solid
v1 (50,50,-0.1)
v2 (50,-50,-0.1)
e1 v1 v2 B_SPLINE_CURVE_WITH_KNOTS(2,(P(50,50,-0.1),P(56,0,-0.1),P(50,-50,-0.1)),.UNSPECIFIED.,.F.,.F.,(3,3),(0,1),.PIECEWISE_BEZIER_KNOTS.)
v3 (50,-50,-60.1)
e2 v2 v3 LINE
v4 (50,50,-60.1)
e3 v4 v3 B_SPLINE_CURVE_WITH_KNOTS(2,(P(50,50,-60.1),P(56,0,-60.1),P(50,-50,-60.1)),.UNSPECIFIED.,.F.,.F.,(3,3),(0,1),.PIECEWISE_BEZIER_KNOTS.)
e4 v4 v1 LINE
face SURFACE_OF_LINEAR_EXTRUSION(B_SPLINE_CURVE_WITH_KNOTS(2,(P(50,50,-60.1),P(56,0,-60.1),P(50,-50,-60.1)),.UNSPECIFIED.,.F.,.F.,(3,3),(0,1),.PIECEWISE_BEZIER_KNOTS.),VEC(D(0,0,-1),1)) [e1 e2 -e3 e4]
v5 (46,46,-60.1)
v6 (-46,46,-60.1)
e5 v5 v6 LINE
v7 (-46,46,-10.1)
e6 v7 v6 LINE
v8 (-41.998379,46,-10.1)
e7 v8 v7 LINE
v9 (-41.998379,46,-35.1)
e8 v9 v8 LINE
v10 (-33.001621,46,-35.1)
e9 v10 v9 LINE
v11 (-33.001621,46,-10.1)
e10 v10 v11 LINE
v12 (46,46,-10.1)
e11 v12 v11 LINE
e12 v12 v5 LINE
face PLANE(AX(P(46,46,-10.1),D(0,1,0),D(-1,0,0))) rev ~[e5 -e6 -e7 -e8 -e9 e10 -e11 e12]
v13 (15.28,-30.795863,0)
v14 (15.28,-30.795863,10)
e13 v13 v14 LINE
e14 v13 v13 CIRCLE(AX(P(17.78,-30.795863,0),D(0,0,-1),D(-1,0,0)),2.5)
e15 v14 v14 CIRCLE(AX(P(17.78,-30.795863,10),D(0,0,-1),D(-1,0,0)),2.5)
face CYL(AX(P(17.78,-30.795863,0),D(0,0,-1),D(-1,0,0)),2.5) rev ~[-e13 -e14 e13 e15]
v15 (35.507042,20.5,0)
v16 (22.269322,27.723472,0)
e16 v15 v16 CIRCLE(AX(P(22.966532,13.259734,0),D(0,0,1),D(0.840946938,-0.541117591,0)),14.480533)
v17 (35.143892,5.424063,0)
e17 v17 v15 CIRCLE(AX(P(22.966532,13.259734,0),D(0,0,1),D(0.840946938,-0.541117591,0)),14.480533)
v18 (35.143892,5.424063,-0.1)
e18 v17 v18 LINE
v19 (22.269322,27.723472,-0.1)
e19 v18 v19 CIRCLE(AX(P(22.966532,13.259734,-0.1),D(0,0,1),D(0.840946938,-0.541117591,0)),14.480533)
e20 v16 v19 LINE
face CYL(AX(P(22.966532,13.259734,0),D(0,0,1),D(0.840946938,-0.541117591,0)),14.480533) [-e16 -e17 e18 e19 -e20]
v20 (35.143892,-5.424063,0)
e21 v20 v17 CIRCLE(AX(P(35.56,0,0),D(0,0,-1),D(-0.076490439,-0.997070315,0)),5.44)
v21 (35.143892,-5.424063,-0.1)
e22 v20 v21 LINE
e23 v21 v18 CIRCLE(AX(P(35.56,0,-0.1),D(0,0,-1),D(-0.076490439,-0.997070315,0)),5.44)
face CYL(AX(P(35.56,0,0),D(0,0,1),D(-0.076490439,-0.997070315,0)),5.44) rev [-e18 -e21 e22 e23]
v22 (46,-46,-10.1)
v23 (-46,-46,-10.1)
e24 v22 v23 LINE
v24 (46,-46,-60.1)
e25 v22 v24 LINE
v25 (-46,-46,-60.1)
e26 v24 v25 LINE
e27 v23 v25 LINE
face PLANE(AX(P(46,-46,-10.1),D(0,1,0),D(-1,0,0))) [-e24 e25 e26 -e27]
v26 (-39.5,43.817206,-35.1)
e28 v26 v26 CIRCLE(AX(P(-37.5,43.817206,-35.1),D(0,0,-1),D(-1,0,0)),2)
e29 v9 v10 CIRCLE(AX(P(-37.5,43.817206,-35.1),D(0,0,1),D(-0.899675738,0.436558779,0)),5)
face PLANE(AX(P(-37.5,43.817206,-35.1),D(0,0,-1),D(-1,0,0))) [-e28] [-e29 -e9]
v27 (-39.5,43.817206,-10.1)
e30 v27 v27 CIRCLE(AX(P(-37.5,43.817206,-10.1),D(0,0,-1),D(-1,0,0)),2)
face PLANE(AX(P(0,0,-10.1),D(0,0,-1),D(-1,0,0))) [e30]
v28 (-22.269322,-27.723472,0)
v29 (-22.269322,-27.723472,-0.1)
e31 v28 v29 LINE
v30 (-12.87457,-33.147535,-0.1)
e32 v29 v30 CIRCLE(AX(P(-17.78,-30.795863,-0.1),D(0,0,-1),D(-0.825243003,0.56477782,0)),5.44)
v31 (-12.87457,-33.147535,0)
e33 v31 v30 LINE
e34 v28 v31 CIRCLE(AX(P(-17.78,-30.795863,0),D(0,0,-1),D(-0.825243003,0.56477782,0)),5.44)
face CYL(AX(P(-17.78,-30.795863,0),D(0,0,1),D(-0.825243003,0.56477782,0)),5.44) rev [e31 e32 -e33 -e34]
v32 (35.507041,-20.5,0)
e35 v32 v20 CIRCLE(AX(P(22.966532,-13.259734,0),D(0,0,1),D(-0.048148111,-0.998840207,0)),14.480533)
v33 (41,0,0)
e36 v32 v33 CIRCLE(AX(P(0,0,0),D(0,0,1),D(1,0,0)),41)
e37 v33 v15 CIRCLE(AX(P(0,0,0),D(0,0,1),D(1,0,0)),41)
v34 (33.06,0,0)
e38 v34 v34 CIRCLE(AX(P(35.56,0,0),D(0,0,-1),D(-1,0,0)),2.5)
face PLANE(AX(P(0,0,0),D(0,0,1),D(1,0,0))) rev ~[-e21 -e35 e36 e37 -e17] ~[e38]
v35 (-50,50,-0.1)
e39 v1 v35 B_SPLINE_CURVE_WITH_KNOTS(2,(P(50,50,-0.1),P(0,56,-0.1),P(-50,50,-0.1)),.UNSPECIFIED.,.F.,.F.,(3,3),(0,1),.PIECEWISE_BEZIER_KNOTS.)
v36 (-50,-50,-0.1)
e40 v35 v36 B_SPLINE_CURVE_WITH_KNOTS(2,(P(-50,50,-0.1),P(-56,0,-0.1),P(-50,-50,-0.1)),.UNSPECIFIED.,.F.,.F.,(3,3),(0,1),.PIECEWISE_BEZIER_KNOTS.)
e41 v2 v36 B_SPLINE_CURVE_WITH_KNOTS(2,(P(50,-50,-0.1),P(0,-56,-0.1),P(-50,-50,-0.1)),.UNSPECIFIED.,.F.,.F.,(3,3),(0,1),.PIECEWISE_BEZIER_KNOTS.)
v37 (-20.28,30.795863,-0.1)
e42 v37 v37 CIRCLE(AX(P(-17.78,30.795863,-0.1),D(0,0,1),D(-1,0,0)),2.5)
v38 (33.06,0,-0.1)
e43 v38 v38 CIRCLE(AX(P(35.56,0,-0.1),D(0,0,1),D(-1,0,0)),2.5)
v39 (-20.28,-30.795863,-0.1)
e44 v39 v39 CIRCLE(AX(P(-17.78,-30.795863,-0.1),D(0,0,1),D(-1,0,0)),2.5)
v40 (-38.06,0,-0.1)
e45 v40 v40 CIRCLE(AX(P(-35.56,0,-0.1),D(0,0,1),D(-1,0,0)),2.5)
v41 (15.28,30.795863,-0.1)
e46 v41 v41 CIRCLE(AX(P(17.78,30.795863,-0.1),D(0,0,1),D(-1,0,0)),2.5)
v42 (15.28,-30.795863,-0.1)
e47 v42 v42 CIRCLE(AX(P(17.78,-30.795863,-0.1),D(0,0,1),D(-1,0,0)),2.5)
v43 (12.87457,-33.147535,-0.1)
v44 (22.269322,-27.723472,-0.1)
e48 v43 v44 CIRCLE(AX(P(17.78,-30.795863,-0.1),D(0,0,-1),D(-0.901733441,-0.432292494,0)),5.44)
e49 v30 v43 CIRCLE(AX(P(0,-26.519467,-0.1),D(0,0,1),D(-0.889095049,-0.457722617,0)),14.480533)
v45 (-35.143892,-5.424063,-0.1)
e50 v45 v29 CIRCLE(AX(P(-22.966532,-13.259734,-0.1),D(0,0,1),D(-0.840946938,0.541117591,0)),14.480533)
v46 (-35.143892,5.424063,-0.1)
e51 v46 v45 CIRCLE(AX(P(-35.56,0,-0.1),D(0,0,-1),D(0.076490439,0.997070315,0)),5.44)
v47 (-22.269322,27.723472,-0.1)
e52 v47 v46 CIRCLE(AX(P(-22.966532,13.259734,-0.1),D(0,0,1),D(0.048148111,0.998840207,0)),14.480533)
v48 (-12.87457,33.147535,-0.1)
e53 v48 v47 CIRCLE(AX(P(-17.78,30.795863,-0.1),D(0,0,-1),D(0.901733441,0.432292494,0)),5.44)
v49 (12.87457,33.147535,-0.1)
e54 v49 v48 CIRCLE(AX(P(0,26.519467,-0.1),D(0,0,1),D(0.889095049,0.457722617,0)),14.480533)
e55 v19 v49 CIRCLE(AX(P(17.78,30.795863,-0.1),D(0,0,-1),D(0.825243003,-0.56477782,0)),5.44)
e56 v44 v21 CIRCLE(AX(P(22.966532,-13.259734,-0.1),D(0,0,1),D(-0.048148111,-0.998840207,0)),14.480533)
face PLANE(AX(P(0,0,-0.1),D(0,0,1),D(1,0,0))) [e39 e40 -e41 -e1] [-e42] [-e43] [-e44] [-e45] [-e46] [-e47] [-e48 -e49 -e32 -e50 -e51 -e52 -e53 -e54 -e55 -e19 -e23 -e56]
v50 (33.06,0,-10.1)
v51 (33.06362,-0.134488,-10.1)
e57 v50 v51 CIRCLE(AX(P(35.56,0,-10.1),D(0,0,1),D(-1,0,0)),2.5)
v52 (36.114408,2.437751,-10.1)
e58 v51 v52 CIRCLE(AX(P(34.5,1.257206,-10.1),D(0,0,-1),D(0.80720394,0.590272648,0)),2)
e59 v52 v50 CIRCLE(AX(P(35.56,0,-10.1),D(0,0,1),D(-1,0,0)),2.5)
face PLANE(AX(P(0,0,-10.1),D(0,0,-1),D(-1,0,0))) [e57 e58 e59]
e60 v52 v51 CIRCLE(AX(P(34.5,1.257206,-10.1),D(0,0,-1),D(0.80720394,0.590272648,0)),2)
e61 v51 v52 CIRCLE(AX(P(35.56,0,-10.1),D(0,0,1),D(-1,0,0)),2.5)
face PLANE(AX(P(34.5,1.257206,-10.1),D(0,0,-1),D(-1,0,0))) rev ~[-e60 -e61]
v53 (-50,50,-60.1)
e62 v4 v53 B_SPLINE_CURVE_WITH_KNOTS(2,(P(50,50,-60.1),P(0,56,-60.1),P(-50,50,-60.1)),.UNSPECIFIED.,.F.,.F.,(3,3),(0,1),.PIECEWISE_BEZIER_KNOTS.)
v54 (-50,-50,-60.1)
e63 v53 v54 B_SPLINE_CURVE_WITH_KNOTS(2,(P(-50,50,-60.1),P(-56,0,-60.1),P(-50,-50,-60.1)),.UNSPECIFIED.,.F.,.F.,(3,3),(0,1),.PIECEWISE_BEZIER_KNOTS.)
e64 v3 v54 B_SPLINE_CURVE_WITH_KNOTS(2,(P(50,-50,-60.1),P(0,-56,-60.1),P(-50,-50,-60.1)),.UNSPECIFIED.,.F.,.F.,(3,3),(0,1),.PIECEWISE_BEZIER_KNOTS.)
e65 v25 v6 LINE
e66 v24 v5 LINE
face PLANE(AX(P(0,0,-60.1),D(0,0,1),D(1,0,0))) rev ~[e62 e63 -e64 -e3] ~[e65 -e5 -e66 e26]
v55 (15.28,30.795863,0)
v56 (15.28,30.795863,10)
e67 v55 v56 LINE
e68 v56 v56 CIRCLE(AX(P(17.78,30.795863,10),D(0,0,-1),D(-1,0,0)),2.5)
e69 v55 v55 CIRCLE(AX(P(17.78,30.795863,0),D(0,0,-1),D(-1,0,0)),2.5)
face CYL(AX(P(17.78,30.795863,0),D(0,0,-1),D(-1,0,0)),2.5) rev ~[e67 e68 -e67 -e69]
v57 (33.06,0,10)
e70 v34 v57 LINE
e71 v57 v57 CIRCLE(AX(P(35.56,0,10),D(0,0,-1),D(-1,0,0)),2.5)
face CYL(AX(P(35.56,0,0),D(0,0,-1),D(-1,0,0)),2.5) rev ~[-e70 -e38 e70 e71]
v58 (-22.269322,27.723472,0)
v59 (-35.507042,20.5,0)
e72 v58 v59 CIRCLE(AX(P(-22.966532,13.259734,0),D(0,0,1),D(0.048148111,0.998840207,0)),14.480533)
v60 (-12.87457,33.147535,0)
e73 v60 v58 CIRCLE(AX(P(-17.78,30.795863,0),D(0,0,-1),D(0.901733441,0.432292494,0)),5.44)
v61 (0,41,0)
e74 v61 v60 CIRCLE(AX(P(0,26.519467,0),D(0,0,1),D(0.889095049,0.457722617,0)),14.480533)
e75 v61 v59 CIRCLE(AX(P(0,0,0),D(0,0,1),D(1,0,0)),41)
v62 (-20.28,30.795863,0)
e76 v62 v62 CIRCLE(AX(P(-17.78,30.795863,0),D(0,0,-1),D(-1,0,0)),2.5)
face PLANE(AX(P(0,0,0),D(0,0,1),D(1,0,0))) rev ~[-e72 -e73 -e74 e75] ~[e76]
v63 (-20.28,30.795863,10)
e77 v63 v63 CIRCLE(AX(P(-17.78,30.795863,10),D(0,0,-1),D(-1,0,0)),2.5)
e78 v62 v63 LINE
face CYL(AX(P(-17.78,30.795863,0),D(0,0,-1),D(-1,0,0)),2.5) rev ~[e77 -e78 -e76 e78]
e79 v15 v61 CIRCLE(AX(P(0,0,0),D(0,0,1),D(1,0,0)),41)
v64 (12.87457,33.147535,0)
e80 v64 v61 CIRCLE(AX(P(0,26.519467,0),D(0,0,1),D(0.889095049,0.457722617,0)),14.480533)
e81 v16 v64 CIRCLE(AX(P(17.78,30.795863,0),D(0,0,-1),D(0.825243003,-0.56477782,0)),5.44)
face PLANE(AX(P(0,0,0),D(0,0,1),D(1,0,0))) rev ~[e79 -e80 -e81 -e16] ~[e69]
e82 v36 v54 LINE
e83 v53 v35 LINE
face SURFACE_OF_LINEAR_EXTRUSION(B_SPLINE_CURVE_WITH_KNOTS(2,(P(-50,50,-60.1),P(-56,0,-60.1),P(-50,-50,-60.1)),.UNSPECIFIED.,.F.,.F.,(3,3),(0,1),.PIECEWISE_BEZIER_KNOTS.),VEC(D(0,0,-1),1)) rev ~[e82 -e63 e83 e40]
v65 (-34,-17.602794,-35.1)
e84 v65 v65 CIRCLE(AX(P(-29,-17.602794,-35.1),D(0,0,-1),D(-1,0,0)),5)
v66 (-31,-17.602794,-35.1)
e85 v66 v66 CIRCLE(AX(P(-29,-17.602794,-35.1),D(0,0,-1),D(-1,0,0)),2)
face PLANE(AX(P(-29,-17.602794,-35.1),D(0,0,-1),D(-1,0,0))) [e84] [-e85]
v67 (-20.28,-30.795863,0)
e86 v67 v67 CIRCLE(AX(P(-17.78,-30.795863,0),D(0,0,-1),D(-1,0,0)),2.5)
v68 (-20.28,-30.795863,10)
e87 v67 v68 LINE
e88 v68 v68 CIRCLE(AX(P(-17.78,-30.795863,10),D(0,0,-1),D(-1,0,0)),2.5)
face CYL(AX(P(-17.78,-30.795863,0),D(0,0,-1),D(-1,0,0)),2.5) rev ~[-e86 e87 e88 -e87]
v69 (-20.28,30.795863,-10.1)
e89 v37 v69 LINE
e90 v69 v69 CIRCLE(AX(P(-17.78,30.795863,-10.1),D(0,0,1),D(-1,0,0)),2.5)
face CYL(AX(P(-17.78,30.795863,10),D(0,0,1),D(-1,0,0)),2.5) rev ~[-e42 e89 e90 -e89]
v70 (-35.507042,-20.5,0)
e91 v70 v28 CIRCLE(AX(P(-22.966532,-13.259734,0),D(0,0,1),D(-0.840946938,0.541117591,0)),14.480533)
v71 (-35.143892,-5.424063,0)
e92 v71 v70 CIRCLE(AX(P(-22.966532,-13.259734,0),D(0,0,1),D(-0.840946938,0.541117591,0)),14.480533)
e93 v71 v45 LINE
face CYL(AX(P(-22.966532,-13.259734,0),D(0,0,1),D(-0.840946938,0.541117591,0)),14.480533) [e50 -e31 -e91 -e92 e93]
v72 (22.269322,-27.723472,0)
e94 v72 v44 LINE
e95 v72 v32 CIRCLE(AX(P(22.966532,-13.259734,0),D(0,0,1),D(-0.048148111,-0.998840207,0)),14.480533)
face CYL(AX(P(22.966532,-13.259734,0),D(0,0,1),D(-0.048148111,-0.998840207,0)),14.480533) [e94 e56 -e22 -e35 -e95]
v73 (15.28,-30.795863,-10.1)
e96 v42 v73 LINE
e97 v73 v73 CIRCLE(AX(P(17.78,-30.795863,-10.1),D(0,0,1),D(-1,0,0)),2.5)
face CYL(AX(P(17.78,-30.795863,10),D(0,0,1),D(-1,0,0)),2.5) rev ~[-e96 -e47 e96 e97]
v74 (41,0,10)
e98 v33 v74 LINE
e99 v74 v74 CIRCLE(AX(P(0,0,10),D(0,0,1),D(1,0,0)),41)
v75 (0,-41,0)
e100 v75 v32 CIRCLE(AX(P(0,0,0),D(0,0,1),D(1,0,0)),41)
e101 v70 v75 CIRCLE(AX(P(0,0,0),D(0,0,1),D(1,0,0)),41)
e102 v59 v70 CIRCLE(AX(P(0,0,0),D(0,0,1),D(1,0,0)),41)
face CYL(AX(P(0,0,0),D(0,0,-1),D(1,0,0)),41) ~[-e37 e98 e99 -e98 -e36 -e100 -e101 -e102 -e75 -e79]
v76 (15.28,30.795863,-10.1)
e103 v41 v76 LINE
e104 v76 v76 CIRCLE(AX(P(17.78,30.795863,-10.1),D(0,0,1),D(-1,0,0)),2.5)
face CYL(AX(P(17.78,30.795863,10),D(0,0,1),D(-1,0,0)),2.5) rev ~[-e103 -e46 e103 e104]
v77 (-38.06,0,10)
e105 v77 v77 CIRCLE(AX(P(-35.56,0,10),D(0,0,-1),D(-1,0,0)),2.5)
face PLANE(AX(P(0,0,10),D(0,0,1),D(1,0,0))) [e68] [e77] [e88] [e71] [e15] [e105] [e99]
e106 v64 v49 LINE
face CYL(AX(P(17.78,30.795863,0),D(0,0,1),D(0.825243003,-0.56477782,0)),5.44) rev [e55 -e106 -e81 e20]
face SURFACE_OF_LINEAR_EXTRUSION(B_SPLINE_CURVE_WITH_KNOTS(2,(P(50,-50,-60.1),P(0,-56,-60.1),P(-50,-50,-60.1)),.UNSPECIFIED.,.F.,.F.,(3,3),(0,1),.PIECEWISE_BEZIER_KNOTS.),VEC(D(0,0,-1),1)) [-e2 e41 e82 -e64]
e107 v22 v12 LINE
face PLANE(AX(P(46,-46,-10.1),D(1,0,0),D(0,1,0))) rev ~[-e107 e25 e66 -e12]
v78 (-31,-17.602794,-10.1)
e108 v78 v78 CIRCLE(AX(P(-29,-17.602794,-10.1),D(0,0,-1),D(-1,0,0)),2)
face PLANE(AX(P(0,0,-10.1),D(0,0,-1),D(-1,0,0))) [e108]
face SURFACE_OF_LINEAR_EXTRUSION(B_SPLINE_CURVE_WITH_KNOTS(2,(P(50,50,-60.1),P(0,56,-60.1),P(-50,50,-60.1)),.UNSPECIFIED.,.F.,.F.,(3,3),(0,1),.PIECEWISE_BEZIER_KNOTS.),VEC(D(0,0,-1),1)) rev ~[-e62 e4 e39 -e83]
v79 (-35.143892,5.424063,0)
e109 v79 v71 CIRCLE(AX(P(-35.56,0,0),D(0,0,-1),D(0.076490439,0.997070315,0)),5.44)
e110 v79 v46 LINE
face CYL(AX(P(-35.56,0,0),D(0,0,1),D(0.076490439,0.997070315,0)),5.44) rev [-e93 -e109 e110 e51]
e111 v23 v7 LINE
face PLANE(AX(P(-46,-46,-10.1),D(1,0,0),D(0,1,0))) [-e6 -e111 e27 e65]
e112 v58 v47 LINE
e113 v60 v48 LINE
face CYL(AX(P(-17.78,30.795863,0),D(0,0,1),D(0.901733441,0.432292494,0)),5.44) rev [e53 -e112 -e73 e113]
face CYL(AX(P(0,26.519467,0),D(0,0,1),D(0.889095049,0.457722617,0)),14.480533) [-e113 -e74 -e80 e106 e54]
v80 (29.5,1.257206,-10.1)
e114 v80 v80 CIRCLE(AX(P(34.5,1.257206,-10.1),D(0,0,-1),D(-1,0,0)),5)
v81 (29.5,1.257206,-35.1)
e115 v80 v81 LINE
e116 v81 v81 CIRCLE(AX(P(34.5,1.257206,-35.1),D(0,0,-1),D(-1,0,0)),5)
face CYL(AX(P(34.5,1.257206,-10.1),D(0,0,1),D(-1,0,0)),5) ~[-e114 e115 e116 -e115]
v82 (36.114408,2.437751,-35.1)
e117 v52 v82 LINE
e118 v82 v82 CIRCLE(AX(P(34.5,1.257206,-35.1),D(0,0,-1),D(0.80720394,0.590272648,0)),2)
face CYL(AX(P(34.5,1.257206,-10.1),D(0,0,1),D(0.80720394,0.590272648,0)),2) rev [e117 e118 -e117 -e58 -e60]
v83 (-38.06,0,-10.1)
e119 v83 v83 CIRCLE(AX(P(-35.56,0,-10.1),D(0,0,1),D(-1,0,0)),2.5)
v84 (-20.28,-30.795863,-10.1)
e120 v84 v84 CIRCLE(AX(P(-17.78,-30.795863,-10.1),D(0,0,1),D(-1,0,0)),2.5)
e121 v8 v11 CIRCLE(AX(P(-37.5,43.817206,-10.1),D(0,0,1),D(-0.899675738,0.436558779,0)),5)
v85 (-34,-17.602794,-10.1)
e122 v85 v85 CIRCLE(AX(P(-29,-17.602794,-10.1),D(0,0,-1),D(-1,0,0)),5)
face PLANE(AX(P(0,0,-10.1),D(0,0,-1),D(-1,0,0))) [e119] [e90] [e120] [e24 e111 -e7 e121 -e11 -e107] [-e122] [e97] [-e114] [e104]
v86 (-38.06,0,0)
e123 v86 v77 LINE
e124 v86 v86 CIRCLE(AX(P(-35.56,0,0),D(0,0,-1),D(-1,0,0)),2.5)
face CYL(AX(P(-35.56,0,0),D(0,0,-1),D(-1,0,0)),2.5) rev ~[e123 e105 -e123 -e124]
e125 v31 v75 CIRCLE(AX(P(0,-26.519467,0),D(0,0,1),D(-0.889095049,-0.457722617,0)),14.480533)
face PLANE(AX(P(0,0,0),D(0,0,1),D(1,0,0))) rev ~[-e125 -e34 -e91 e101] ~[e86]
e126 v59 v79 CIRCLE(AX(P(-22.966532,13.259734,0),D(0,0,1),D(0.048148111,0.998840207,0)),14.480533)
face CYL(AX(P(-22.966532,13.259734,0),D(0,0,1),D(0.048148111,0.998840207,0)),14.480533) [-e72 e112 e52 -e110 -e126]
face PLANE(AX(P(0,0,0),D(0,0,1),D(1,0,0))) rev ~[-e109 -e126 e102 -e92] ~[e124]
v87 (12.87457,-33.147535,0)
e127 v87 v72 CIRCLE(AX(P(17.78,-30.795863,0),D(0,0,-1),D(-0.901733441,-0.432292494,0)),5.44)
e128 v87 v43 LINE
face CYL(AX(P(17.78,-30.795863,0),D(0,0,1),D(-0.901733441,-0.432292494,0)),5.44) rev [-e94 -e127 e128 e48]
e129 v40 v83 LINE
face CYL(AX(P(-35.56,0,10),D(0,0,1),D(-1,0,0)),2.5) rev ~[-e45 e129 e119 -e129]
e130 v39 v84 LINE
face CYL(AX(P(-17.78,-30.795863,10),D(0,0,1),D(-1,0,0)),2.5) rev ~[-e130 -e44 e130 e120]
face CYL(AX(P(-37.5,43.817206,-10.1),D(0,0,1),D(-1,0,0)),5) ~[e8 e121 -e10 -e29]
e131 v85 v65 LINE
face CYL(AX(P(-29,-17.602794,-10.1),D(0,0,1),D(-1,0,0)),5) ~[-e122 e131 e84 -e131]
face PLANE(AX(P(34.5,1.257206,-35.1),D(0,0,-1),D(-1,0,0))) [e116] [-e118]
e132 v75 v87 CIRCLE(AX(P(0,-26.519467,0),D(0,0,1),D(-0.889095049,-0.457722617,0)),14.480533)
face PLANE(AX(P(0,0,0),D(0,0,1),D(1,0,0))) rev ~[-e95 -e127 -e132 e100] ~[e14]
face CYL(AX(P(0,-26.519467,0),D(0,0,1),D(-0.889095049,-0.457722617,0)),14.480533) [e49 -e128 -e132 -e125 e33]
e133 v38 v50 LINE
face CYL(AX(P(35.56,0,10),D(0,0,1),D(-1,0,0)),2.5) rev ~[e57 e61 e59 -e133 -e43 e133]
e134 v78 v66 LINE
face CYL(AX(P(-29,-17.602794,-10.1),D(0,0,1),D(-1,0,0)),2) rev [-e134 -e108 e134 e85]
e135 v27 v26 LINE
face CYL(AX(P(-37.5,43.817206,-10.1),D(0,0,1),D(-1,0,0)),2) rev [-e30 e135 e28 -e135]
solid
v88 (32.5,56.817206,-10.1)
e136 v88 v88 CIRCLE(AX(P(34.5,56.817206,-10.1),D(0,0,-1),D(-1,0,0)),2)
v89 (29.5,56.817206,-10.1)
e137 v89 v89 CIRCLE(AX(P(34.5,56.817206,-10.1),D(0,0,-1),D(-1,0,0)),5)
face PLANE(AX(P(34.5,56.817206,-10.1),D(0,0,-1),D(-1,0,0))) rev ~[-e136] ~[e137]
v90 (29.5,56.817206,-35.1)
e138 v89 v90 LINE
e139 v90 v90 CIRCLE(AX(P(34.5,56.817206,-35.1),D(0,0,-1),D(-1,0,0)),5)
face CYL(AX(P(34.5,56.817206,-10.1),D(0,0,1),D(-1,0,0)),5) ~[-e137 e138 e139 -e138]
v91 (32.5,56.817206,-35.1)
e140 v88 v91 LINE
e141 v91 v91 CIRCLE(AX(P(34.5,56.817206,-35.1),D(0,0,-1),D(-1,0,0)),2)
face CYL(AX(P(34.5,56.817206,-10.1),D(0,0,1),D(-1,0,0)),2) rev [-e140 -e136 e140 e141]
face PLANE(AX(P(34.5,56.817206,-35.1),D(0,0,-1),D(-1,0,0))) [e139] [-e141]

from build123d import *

# Parameters (mm, degrees)
SKETCH1_R           = 41
BOSS_EXTRUDE1_DEPTH = 10
SKETCH2_R           = 2.5
CUT_EXTRUDE1_DEPTH  = 10
BOSS_EXTRUDE3_DEPTH = 0.1
SKETCH4_W           = 100
SKETCH4_H           = 100
BOSS_EXTRUDE4_DEPTH = 10
SKETCH5_W           = 100
SKETCH5_H           = 100
SKETCH5_W_2         = 92
SKETCH5_H_2         = 92
BOSS_EXTRUDE5_DEPTH = 50
SKETCH7_W           = 92
SKETCH7_H           = 92
BOSS_EXTRUDE6_DEPTH = 60
SKETCH10_R          = 2.5
CUT_EXTRUDE3_DEPTH  = 103.625581778
SKETCH11_R          = 5
SKETCH11_R_2        = 2
BOSS_EXTRUDE7_DEPTH = 25


with BuildPart() as part:
    # Sketch1 → Boss-Extrude1 (new body)
    with BuildSketch(Plane.XY):
        Circle(SKETCH1_R)
    extrude(amount=BOSS_EXTRUDE1_DEPTH)

    # Sketch2 → Cut-Extrude1 (cut)
    with BuildSketch(Plane(origin=(0, 0, 0), x_dir=(-1, 0, 0), z_dir=(0, 0, -1))):
        with Locations((-35.56, 0)):
            Circle(SKETCH2_R)
        with Locations((35.56, 0)):
            Circle(SKETCH2_R)
        with Locations((-17.78, -30.795863359)):
            Circle(SKETCH2_R)
        with Locations((17.78, -30.795863359)):
            Circle(SKETCH2_R)
        with Locations((-17.78, 30.795863359)):
            Circle(SKETCH2_R)
        with Locations((17.78, 30.795863359)):
            Circle(SKETCH2_R)
    extrude(amount=-CUT_EXTRUDE1_DEPTH, mode=Mode.SUBTRACT)

    # Sketch3 → Boss-Extrude3 (add)
    with BuildSketch(Plane(origin=(0, 0, 0), x_dir=(-1, 0, 0), z_dir=(0, 0, -1))):
        with BuildLine():
            ThreePointArc((12.874570079, 33.147534528), (15.06, 26.084685162), (22.269321935, 27.723472015))
            ThreePointArc((22.269321935, 27.723472015), (35.507041555, 20.5), (35.143892013, 5.424062513))
            ThreePointArc((35.143892013, 5.424062513), (30.12, 0), (35.143892013, -5.424062513))
            ThreePointArc((35.143892013, -5.424062513), (35.507041555, -20.5), (22.269321935, -27.723472015))
            ThreePointArc((22.269321935, -27.723472015), (15.06, -26.084685162), (12.874570079, -33.147534528))
            ThreePointArc((12.874570079, -33.147534528), (0, -41), (-12.874570079, -33.147534528))
            ThreePointArc((-12.874570079, -33.147534528), (-15.06, -26.084685162), (-22.269321935, -27.723472015))
            ThreePointArc((-22.269321935, -27.723472015), (-35.507041555, -20.5), (-35.143892013, -5.424062513))
            ThreePointArc((-35.143892013, -5.424062513), (-30.12, 0), (-35.143892013, 5.424062513))
            ThreePointArc((-35.143892013, 5.424062513), (-35.507041555, 20.5), (-22.269321935, 27.723472015))
            ThreePointArc((-22.269321935, 27.723472015), (-15.06, 26.084685162), (-12.874570079, 33.147534528))
            ThreePointArc((-12.874570079, 33.147534528), (0, 41), (12.874570079, 33.147534528))
        make_face()
    extrude(amount=BOSS_EXTRUDE3_DEPTH)

    # Sketch4 → Boss-Extrude4 (add)
    with BuildSketch(Plane(origin=(0, 0, -0.1), x_dir=(-1, 0, 0), z_dir=(0, 0, -1))):
        Rectangle(SKETCH4_W, SKETCH4_H)
    extrude(amount=BOSS_EXTRUDE4_DEPTH)

    # Sketch5 → Boss-Extrude5 (add)
    with BuildSketch(Plane(origin=(0, 0, -10.1), x_dir=(-1, 0, 0), z_dir=(0, 0, -1))):
        Rectangle(SKETCH5_W, SKETCH5_H)
        Rectangle(SKETCH5_W_2, SKETCH5_H_2, mode=Mode.SUBTRACT)
    extrude(amount=BOSS_EXTRUDE5_DEPTH)

    # Sketch7 → Boss-Extrude6 (add)
    with BuildSketch(Plane(origin=(0, 0, -60.1), x_dir=(-1, 0, 0), z_dir=(0, 0, -1))):
        with BuildLine():
            add(Edge.make_bspline(
                [(-50, 50), (0, 56), (50, 50)],
                knots=[0, 0, 0, 1, 1, 1], degree=2))
            add(Edge.make_bspline(
                [(50, 50), (56, 0), (50, -50)],
                knots=[0, 0, 0, 1, 1, 1], degree=2))
            add(Edge.make_bspline(
                [(-50, -50), (0, -56), (50, -50)],
                knots=[0, 0, 0, 1, 1, 1], degree=2))
            add(Edge.make_bspline(
                [(-50, 50), (-56, 0), (-50, -50)],
                knots=[0, 0, 0, 1, 1, 1], degree=2))
        make_face()
        Rectangle(SKETCH7_W, SKETCH7_H, mode=Mode.SUBTRACT)
    extrude(amount=-BOSS_EXTRUDE6_DEPTH)

    # Sketch10 → Cut-Extrude3 (cut, through all)
    with BuildSketch(Plane.XY.offset(10)):
        with Locations(Location((-17.78, 30.795863359, 0), (0, 0, 180))):
            Circle(SKETCH10_R)
        with Locations(Location((17.78, 30.795863359, 0), (0, 0, 180))):
            Circle(SKETCH10_R)
        with Locations(Location((35.56, 0, 0), (0, 0, 180))):
            Circle(SKETCH10_R)
        with Locations(Location((17.78, -30.795863359, 0), (0, 0, 180))):
            Circle(SKETCH10_R)
        with Locations(Location((-17.78, -30.795863359, 0), (0, 0, 180))):
            Circle(SKETCH10_R)
        with Locations(Location((-35.56, 0, 0), (0, 0, 180))):
            Circle(SKETCH10_R)
    extrude(amount=-CUT_EXTRUDE3_DEPTH, mode=Mode.SUBTRACT)

    # Sketch11 → Boss-Extrude7 (add)
    # profile 1 of 4: a face of its own
    with BuildSketch(Plane(origin=(0, 0, -10.1), x_dir=(-1, 0, 0), z_dir=(0, 0, -1))):
        with Locations((-34.5, 1.257206107)):
            Circle(SKETCH11_R)
        with Locations(Location((-34.5, 1.257206107, 0), (0, 0, 143.823641493))):
            Circle(SKETCH11_R_2, mode=Mode.SUBTRACT)
    # profile 2 of 4: a face of its own
    with BuildSketch(Plane(origin=(0, 0, -10.1), x_dir=(-1, 0, 0), z_dir=(0, 0, -1))):
        with Locations((29, -17.602793893)):
            Circle(SKETCH11_R)
        with Locations((29, -17.602793893)):
            Circle(SKETCH11_R_2, mode=Mode.SUBTRACT)
    # profile 3 of 4: a face of its own
    with BuildSketch(Plane(origin=(0, 0, -10.1), x_dir=(-1, 0, 0), z_dir=(0, 0, -1))):
        with Locations((37.5, 43.817206107)):
            Circle(SKETCH11_R)
        with Locations((37.5, 43.817206107)):
            Circle(SKETCH11_R_2, mode=Mode.SUBTRACT)
    # profile 4 of 4: a face of its own
    with BuildSketch(Plane(origin=(0, 0, -10.1), x_dir=(-1, 0, 0), z_dir=(0, 0, -1))):
        with Locations((-34.5, 56.817206107)):
            Circle(SKETCH11_R)
        with Locations((-34.5, 56.817206107)):
            Circle(SKETCH11_R_2, mode=Mode.SUBTRACT)
    extrude(amount=BOSS_EXTRUDE7_DEPTH)


with BuildPart() as boss_extrude7_piece_1:
    # of the separate pieces the step leaves, piece 1, a body of its own (boss_extrude7_pieces)
    add(part.part.solids().sort_by_distance((46, -46, -60.1))[0])


with BuildPart() as boss_extrude7_piece_2:
    # of the separate pieces the step leaves, piece 2, a body of its own (boss_extrude7_pieces)
    add(part.part.solids().sort_by_distance((29.5, 56.817206107, -10.1))[0])


solid = Compound([boss_extrude7_piece_1.part, boss_extrude7_piece_2.part])
